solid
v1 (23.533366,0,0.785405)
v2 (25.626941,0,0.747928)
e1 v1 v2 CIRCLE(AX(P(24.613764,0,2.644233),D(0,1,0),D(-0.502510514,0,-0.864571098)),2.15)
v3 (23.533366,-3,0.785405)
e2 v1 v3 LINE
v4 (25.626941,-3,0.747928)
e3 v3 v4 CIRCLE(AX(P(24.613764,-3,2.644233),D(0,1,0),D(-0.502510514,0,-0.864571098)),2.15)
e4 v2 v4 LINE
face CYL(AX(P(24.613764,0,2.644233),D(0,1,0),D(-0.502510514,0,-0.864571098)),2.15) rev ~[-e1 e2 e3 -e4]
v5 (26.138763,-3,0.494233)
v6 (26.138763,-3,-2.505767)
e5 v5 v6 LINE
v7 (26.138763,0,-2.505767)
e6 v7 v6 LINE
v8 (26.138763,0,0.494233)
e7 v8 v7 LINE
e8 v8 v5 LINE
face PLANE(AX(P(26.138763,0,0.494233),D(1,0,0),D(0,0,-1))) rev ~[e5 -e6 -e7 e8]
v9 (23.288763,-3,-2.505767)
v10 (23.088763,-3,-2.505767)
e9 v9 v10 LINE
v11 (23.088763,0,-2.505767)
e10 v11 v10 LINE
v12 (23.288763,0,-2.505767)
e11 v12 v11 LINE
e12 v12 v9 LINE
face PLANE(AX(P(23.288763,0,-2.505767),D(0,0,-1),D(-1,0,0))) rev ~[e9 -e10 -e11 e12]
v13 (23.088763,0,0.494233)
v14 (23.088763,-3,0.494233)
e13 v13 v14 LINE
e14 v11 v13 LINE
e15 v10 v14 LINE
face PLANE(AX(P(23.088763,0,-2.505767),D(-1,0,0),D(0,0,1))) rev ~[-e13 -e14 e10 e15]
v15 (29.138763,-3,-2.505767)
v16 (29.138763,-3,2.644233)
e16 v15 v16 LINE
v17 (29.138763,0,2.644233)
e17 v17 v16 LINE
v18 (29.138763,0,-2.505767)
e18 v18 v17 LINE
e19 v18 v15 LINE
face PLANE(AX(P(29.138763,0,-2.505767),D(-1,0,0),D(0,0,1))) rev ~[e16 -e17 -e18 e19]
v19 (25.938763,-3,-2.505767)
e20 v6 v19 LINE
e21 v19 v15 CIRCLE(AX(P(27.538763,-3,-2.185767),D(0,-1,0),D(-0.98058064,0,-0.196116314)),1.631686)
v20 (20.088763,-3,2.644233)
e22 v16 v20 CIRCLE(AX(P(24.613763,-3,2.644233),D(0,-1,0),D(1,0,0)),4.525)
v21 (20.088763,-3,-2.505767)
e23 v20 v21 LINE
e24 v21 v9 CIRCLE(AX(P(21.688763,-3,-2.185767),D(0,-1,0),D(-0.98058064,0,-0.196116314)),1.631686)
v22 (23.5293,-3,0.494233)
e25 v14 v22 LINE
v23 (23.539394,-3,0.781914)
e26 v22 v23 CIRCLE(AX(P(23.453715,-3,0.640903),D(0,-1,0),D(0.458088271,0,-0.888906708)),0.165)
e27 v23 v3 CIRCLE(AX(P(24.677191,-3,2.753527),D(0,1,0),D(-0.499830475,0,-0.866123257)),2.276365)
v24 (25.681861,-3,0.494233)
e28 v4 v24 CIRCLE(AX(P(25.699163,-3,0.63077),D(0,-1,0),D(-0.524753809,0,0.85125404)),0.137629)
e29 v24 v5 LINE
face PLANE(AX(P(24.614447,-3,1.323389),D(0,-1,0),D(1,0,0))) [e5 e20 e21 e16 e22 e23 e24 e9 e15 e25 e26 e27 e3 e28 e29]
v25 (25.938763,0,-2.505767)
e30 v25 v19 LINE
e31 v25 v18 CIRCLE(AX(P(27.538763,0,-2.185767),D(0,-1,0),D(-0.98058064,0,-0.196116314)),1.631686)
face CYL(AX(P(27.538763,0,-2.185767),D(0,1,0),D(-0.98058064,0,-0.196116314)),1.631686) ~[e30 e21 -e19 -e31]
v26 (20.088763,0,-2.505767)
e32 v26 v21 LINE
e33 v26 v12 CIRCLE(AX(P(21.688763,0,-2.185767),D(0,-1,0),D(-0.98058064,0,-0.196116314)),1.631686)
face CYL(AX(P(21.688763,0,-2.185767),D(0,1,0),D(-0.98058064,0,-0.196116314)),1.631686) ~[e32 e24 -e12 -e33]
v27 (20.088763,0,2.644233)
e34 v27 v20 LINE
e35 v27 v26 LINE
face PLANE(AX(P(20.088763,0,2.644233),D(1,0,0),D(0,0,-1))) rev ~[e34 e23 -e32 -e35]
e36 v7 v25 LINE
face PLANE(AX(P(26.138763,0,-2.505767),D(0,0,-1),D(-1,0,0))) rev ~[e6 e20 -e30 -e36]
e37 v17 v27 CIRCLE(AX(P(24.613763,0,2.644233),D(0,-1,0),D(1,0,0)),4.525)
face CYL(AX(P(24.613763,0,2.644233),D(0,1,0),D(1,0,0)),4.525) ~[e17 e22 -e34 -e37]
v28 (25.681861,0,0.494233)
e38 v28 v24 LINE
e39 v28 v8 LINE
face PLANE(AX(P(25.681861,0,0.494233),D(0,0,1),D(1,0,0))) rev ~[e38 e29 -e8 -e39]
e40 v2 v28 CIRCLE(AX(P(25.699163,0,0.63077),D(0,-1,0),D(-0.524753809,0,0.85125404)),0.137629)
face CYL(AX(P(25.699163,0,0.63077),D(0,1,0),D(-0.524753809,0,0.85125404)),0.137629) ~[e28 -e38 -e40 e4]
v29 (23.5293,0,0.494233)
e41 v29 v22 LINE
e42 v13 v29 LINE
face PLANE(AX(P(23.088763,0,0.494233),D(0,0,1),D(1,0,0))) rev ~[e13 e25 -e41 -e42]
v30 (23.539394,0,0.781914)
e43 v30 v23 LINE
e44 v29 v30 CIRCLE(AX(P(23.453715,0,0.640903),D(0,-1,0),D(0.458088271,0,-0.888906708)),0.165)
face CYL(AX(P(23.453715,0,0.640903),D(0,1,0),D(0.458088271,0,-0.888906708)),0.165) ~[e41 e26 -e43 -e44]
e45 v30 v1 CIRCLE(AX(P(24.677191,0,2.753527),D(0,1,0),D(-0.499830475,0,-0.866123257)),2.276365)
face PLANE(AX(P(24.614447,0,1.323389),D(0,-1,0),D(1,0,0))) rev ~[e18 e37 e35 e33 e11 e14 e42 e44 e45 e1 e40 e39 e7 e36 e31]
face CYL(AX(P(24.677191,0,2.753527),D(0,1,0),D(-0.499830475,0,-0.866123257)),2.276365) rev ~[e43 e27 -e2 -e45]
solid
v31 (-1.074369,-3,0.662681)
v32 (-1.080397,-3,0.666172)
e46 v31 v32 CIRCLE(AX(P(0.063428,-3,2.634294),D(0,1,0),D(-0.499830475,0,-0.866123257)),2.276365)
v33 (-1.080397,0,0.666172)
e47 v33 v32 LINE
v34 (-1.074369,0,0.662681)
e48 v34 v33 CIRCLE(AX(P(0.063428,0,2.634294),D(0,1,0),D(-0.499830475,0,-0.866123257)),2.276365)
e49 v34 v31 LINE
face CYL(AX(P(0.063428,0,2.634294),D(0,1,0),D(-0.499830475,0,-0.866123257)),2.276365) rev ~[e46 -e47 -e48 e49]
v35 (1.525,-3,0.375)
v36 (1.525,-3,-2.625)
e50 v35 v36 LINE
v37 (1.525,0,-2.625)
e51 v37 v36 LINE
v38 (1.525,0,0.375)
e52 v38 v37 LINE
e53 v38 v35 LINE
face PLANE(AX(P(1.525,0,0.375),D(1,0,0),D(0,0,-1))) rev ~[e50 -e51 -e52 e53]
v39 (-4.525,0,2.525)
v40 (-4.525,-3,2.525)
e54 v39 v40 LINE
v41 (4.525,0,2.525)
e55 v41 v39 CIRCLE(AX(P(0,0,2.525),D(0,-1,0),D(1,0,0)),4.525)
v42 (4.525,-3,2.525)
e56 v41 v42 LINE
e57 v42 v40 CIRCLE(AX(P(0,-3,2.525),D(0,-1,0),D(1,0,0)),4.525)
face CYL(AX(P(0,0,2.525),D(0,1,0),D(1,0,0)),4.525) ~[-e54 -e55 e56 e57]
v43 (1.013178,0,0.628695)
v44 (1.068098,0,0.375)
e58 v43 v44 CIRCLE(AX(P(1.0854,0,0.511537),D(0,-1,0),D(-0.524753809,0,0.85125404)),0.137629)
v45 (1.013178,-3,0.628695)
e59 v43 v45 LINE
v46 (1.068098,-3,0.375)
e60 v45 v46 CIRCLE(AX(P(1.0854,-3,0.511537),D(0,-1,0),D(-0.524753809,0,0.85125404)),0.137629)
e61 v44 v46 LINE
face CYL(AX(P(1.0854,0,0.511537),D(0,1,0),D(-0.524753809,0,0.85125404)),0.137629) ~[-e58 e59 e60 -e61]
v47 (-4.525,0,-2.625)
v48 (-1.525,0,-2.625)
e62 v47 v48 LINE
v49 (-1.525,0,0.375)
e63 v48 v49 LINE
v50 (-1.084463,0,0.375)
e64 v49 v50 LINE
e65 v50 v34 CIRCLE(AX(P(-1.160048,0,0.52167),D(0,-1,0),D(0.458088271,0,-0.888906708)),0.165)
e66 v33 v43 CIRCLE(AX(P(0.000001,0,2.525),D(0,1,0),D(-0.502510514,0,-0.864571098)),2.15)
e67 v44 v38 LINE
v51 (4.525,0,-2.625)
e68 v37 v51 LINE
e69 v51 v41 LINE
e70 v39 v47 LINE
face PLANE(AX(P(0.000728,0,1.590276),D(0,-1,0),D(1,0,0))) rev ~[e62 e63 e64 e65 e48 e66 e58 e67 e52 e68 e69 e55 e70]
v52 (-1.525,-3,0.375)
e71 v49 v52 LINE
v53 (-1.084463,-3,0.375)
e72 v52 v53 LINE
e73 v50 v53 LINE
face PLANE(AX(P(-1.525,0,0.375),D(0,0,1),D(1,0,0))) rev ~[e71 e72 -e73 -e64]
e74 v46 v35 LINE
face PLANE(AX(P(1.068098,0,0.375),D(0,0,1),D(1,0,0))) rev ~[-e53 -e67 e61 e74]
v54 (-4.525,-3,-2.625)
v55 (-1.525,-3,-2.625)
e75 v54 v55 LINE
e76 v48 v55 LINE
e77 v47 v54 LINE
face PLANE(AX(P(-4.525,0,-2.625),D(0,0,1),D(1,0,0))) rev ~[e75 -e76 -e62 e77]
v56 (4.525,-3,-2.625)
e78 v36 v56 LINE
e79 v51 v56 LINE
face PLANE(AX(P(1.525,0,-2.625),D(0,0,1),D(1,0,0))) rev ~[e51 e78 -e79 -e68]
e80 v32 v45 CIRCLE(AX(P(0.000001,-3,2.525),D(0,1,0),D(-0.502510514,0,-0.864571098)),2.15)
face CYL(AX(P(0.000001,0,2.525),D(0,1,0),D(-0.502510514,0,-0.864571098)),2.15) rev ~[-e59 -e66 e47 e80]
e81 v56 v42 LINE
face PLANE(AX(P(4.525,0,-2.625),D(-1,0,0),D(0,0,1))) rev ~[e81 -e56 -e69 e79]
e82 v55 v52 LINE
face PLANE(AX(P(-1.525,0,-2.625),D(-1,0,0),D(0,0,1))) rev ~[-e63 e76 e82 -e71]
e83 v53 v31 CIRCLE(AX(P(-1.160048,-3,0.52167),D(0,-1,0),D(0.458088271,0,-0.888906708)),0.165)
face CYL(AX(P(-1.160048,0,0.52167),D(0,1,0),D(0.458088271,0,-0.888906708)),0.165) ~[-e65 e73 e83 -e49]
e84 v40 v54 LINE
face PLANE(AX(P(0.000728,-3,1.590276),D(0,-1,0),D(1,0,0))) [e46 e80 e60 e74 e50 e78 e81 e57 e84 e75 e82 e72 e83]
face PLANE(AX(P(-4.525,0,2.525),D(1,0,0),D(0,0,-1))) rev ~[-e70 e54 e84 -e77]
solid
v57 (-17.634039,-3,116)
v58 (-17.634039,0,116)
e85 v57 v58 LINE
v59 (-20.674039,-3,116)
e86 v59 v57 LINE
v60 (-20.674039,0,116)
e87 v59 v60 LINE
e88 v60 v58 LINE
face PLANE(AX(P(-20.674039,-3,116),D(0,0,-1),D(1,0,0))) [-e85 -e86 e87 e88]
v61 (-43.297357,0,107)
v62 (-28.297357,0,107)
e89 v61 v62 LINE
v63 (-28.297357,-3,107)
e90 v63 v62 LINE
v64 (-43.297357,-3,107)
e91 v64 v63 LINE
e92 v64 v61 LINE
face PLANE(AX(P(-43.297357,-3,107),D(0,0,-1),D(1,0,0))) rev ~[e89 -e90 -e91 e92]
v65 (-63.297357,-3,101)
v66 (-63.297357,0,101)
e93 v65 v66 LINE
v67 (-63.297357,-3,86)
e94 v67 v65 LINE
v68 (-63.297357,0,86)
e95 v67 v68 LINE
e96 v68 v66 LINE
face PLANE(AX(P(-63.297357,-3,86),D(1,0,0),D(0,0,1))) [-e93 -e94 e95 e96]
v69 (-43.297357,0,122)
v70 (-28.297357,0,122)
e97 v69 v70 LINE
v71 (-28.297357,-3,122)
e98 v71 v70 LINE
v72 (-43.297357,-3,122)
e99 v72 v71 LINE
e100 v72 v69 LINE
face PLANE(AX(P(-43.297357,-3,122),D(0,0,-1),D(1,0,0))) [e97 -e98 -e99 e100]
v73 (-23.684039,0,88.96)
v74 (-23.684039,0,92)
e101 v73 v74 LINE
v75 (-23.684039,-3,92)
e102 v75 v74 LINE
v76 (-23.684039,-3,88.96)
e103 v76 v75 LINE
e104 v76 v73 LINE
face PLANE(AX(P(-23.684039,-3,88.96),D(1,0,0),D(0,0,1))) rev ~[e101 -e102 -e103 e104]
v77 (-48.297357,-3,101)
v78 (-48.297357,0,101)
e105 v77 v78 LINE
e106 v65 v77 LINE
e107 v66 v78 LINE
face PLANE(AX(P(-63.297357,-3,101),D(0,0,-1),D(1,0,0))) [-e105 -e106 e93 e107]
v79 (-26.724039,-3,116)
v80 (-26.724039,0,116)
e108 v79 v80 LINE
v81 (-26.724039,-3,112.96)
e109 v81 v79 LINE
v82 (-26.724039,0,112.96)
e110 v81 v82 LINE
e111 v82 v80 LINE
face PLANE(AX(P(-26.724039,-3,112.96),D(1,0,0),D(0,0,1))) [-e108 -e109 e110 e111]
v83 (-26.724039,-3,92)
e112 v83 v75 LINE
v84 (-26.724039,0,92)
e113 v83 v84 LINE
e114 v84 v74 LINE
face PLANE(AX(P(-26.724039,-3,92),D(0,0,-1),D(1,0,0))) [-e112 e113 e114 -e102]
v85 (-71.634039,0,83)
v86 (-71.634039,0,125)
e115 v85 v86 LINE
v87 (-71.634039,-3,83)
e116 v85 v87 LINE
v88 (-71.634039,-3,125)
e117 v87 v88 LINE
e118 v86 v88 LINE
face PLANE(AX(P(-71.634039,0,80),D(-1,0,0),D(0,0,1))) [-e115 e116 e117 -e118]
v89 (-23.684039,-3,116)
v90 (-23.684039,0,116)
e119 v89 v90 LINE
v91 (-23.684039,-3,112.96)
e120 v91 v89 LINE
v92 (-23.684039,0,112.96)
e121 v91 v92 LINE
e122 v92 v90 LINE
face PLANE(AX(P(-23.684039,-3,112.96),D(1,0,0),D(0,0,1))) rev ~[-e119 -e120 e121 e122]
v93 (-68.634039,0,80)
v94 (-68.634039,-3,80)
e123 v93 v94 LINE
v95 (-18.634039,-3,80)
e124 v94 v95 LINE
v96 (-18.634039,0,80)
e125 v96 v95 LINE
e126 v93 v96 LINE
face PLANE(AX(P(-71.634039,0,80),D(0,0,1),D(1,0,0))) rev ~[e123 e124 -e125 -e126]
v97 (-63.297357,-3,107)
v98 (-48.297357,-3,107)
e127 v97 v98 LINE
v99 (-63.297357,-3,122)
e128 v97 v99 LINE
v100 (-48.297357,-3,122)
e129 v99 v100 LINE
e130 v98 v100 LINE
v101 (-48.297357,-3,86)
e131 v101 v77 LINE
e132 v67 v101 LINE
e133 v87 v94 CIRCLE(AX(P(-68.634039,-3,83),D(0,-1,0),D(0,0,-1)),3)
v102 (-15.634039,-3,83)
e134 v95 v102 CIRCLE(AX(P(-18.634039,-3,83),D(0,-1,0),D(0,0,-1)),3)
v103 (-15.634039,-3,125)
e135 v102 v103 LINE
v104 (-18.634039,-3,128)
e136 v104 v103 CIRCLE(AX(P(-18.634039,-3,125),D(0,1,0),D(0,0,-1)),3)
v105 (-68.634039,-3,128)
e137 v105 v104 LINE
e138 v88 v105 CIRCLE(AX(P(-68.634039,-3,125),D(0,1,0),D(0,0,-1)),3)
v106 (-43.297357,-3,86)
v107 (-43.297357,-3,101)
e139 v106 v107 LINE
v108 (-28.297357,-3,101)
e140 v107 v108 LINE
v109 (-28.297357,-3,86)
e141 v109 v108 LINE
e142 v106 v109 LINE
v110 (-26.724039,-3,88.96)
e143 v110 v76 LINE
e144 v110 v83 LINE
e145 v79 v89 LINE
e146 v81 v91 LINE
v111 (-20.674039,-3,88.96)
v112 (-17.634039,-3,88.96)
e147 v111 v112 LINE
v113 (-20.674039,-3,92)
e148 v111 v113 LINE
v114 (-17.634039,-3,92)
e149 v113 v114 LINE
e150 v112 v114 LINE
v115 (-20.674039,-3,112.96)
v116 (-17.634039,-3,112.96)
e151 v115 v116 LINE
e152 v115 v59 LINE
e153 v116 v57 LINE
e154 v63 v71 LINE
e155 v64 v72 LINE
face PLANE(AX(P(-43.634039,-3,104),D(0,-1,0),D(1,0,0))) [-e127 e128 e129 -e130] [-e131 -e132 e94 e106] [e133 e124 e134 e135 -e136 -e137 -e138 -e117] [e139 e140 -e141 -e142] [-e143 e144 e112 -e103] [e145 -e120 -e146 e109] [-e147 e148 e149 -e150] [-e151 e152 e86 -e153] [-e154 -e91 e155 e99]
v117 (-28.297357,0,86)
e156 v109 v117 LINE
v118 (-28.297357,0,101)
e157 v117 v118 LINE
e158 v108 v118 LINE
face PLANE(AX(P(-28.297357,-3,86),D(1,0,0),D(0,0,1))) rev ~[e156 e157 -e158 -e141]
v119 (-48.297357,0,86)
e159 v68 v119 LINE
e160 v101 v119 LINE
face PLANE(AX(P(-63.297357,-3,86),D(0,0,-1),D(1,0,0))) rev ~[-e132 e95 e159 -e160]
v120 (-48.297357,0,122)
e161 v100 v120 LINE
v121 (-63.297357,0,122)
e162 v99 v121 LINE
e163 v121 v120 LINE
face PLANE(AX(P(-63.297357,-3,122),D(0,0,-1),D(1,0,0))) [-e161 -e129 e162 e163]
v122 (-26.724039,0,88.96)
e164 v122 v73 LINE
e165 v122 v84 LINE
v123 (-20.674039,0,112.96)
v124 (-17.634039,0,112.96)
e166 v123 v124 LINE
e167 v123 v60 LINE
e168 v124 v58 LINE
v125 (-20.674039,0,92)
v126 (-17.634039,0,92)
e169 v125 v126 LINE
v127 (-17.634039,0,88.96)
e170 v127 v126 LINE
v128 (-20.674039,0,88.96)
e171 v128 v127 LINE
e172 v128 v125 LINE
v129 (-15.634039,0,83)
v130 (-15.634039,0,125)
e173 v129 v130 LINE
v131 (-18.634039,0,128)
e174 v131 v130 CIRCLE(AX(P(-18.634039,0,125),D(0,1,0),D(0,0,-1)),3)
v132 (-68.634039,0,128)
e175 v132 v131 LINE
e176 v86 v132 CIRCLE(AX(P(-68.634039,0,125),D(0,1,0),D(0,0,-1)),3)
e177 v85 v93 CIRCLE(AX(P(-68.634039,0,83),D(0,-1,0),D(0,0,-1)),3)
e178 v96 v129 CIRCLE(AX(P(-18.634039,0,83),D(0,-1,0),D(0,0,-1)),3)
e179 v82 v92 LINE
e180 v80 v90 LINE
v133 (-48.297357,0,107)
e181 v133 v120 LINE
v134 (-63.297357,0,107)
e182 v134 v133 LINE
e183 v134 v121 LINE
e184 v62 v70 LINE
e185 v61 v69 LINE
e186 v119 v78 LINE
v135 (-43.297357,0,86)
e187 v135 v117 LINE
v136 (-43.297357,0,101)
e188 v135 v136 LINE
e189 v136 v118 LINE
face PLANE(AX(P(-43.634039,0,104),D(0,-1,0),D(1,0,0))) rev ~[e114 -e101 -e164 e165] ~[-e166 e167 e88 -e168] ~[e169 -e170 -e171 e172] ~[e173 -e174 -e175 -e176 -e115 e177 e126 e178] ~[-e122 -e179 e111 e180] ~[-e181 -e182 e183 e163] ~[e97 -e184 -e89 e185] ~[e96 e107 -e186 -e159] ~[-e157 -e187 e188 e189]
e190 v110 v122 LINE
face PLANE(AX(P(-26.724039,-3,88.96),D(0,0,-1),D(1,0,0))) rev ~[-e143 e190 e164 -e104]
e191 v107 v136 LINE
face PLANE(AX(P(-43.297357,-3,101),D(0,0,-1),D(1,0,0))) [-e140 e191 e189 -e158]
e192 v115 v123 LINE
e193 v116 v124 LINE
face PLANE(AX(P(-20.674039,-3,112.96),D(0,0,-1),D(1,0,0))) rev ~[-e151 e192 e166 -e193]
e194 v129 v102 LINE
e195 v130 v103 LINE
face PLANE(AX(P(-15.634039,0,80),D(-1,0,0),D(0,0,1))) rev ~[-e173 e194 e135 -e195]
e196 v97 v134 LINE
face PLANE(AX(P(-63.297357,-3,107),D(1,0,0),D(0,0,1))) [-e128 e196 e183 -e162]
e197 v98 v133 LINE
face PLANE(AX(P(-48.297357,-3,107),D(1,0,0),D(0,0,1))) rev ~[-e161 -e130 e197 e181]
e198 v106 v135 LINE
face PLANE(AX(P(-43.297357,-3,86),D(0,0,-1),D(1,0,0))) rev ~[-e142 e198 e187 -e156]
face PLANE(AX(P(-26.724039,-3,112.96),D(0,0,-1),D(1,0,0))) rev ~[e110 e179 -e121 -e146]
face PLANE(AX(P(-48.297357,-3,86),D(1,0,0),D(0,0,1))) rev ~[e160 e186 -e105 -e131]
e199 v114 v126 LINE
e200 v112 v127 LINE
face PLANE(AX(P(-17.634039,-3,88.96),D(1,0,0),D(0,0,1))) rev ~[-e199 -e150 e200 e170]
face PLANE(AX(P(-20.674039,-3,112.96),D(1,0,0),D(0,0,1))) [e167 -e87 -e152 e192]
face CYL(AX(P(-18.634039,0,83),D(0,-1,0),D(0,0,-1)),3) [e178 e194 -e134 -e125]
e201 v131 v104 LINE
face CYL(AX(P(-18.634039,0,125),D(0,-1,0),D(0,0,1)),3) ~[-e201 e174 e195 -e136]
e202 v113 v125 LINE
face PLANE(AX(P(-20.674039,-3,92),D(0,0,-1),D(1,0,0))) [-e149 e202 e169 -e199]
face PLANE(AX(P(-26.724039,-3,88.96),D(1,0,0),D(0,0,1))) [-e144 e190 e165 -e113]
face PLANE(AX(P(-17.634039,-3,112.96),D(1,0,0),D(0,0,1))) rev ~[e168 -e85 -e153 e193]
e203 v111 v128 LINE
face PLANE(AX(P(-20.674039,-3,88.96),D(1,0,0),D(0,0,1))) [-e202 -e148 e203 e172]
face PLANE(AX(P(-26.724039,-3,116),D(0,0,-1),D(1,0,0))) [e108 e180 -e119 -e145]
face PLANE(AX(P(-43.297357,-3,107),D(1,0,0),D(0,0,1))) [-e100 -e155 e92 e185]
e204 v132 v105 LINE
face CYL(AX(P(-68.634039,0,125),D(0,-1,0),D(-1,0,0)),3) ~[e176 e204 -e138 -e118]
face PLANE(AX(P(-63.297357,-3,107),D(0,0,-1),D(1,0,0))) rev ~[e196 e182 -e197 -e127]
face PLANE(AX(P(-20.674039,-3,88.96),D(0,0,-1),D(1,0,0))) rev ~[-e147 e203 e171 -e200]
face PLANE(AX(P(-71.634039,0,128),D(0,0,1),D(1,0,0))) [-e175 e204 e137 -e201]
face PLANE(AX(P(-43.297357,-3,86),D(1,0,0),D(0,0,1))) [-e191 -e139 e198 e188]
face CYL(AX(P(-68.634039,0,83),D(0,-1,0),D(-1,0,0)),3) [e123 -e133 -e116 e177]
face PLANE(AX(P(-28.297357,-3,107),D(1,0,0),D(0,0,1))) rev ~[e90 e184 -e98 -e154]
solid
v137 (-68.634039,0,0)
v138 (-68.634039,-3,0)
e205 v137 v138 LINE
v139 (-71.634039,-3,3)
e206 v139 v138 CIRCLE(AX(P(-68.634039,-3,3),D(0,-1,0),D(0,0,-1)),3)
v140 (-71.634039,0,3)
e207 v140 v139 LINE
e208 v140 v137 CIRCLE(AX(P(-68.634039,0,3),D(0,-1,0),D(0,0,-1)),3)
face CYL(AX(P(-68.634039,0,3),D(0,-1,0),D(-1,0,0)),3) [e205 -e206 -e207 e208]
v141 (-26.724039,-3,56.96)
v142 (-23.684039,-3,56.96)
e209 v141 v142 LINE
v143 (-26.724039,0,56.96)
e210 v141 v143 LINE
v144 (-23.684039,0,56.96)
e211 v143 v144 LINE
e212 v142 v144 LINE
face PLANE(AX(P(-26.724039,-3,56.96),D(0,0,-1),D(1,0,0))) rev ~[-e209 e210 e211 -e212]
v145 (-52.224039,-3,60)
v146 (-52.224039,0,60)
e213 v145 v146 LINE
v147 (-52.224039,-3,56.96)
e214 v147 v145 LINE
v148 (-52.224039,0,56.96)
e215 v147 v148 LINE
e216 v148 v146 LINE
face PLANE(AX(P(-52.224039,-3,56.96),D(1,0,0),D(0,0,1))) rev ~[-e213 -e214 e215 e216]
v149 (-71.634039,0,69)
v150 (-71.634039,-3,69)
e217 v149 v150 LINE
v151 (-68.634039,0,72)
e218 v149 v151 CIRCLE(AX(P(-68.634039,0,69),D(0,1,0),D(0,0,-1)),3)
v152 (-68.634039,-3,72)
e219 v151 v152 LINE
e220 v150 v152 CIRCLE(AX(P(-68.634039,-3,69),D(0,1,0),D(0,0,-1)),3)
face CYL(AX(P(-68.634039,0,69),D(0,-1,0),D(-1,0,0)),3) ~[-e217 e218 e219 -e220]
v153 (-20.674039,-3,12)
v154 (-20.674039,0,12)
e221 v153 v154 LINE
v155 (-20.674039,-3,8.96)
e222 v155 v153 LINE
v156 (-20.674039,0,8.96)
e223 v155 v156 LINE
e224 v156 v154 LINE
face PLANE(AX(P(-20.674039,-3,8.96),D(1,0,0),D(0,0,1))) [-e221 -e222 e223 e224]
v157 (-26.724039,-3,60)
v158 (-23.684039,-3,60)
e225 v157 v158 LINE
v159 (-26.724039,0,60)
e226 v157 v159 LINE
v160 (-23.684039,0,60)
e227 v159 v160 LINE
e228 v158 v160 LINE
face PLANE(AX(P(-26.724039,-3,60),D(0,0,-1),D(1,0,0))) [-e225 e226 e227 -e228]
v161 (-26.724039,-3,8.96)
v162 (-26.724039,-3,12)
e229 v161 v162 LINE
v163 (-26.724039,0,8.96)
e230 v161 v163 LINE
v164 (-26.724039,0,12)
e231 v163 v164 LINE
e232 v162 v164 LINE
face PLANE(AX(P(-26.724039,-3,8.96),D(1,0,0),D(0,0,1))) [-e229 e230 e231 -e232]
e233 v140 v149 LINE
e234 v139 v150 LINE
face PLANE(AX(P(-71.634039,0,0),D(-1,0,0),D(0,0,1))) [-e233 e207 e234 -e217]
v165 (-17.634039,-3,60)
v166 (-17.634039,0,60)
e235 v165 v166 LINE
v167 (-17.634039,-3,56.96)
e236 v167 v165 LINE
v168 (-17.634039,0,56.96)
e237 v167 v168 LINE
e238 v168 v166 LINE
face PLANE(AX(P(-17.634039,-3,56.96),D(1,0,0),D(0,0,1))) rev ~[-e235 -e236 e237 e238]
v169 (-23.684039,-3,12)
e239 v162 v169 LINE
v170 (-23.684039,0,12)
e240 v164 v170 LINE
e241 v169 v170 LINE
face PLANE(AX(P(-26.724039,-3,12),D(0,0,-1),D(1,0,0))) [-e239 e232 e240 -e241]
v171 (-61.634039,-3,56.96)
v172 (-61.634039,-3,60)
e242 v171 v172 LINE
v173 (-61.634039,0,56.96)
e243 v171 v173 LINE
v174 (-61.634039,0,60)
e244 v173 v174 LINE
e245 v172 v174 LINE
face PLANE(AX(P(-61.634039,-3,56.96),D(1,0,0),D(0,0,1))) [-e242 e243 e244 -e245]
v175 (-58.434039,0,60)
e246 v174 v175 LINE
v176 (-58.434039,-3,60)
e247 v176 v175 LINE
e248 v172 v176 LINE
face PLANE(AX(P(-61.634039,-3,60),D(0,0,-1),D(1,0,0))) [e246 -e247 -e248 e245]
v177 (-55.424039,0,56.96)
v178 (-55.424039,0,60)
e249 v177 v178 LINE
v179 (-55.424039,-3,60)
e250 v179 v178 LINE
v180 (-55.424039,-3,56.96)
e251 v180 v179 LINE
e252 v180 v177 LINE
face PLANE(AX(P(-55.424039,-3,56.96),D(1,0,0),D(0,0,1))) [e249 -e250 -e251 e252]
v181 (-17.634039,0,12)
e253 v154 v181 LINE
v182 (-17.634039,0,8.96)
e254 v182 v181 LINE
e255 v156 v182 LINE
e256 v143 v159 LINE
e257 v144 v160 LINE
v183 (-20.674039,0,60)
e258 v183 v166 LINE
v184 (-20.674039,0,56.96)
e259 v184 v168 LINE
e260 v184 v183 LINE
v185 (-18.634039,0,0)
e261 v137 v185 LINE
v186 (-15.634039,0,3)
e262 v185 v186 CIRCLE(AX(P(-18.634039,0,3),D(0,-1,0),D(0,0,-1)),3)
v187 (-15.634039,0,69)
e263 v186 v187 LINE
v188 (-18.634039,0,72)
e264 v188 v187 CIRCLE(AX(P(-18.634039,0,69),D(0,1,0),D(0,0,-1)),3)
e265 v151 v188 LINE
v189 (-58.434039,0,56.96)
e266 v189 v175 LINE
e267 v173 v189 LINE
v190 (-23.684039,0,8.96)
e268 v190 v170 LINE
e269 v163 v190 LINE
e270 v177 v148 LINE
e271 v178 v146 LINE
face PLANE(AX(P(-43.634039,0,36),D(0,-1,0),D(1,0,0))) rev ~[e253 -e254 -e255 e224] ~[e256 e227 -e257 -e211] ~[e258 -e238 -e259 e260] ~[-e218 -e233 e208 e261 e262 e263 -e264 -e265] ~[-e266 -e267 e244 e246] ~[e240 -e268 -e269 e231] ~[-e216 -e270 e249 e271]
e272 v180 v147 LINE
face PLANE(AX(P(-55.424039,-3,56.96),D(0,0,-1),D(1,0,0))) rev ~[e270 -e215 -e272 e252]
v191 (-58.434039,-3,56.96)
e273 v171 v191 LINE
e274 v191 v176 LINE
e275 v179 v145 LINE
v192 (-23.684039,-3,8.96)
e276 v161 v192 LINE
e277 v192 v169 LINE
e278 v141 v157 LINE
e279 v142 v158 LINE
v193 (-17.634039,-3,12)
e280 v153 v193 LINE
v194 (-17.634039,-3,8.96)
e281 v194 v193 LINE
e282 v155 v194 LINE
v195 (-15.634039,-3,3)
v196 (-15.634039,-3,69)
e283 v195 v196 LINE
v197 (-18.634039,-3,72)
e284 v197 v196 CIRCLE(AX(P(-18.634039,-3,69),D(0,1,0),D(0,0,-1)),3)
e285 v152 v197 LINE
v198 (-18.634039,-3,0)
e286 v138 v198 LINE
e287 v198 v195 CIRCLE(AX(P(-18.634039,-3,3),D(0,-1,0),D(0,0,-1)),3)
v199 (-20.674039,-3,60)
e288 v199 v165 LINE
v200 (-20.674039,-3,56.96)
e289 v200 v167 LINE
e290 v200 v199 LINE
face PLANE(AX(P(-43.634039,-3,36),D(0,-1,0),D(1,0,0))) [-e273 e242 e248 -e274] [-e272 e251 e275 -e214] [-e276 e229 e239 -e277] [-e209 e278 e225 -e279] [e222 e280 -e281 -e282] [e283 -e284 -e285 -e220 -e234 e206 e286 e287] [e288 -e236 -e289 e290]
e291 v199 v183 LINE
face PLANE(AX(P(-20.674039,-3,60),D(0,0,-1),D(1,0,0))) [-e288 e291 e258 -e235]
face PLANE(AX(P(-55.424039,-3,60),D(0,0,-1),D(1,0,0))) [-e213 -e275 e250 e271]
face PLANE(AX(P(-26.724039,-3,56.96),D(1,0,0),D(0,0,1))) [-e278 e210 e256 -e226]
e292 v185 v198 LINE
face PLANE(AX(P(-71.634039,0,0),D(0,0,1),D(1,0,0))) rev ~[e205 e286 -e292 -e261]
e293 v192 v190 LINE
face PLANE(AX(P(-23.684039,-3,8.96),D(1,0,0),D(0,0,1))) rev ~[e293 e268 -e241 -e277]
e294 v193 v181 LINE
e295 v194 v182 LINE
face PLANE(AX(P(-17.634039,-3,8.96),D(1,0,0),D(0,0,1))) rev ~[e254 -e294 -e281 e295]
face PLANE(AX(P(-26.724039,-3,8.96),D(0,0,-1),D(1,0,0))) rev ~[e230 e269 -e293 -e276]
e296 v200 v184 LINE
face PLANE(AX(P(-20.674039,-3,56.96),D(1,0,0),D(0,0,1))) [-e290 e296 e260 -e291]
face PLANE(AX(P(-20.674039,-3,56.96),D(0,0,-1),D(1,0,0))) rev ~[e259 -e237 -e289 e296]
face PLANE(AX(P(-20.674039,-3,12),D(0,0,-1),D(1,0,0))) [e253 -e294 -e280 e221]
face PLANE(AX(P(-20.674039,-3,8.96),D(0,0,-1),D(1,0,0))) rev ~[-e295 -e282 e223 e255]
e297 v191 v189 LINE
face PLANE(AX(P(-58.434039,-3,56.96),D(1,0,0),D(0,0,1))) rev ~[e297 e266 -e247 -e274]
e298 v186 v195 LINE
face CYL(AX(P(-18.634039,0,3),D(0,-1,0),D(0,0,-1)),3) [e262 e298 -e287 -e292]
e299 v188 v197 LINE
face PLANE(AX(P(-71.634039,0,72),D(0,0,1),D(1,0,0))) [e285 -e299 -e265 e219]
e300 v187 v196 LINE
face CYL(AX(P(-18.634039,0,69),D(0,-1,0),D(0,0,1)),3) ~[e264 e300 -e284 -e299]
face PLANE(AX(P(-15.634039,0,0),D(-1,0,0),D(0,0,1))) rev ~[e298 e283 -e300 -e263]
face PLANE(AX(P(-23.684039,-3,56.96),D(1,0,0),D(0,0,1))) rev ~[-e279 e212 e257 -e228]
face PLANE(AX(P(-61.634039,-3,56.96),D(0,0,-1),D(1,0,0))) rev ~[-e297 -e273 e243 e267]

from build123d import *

# Parameters (mm, degrees)
F1_DEPTH = 3
F2_W     = 56
F2_H     = 48
F2_H_2   = 72
F3_DEPTH = 3
F4_W     = 3.04
F4_H     = 3.04
F5_DEPTH = 3.001
F4_W_2   = 3.2
F6_DEPTH = 25
F7_W     = 15
F7_H     = 15
F8_DEPTH = 3.001
F9_R     = 3


with BuildPart() as f1:
    # F0 (on Front) → F1 (new body)
    with BuildSketch(Plane.XZ):
        with BuildLine():
            ThreePointArc((-1.080397, 0.666172), (0.03848, 4.674656), (1.013178, 0.628695))
            ThreePointArc((1.013178, 0.628695), (0.950886, 0.482418), (1.068098, 0.375))
            Line((1.068098, 0.375), (1.1027, 0.375))
            Line((1.1027, 0.375), (1.525, 0.375))
            Line((1.525, 0.375), (1.525, -2.625))
            Line((1.525, -2.625), (4.525, -2.625))
            Line((4.525, -2.625), (4.525, 2.525))
            ThreePointArc((4.525, 2.525), (0, 7.05), (-4.525, 2.525))
            Line((-4.525, 2.525), (-4.525, -2.625))
            Line((-4.525, -2.625), (-1.525, -2.625))
            Line((-1.525, -2.625), (-1.525, 0.375))
            Line((-1.525, 0.375), (-1.084463, 0.375))
            ThreePointArc((-1.084463, 0.375), (-0.995149, 0.515884), (-1.074369, 0.662681))
            ThreePointArc((-1.074369, 0.662681), (-1.077384, 0.664424), (-1.080397, 0.666172))
        make_face()
        with BuildLine():
            ThreePointArc((23.533366, 0.785405), (24.652243, 4.793889), (25.626941, 0.747928))
            ThreePointArc((25.626941, 0.747928), (25.564649, 0.601651), (25.681861, 0.494233))
            Line((25.681861, 0.494233), (25.716464, 0.494233))
            Line((25.716464, 0.494233), (26.138763, 0.494233))
            Line((26.138763, 0.494233), (26.138763, -2.505767))
            Line((26.138763, -2.505767), (25.938763, -2.505767))
            ThreePointArc((25.938763, -2.505767), (27.538763, -3.817453), (29.138763, -2.505767))
            Line((29.138763, -2.505767), (29.138763, 2.644233))
            ThreePointArc((29.138763, 2.644233), (24.613763, 7.169233), (20.088763, 2.644233))
            Line((20.088763, 2.644233), (20.088763, -2.505767))
            ThreePointArc((20.088763, -2.505767), (21.688763, -3.817453), (23.288763, -2.505767))
            Line((23.288763, -2.505767), (23.088763, -2.505767))
            Line((23.088763, -2.505767), (23.088763, 0.494233))
            Line((23.088763, 0.494233), (23.5293, 0.494233))
            ThreePointArc((23.5293, 0.494233), (23.618614, 0.635117), (23.539394, 0.781914))
            ThreePointArc((23.539394, 0.781914), (23.536379, 0.783657), (23.533366, 0.785405))
        make_face()
    extrude(amount=F1_DEPTH)


with BuildPart() as f3:
    # F2 (on Front) → F3 (new body)
    with BuildSketch(Plane.XZ):
        with Locations((-43.634039, 104)):
            Rectangle(F2_W, F2_H)
        with Locations((-43.634039, 36)):
            Rectangle(F2_W, F2_H_2)
    extrude(amount=F3_DEPTH)

    # F4 (on face) → F5 (cut, through all)
    with BuildSketch(Plane.XZ.offset(3)):
        with Locations((-25.204039, 114.48)):
            Rectangle(F4_W, F4_H)
        with Locations((-19.154039, 114.48)):
            Rectangle(F4_W, F4_H)
        with Locations((-25.204039, 90.48)):
            Rectangle(F4_W, F4_H)
        with Locations((-19.154039, 90.48)):
            Rectangle(F4_W, F4_H)
        with Locations((-25.204039, 58.48)):
            Rectangle(F4_W, F4_H)
        with Locations((-19.154039, 58.48)):
            Rectangle(F4_W, F4_H)
        with Locations((-25.204039, 10.48)):
            Rectangle(F4_W, F4_H)
        with Locations((-19.154039, 10.48)):
            Rectangle(F4_W, F4_H)
    extrude(amount=-F5_DEPTH, mode=Mode.SUBTRACT)

    # F4 (on face) → F6 (cut)
    with BuildSketch(Plane.XZ.offset(3)):
        with Locations((-25.204039, 10.48)):
            Rectangle(F4_W, F4_H)
        with Locations((-19.154039, 10.48)):
            Rectangle(F4_W, F4_H)
        with Locations((-25.204039, 58.48)):
            Rectangle(F4_W, F4_H)
        with Locations((-19.154039, 58.48)):
            Rectangle(F4_W, F4_H)
        with Locations((-25.204039, 90.48)):
            Rectangle(F4_W, F4_H)
        with Locations((-19.154039, 90.48)):
            Rectangle(F4_W, F4_H)
        with Locations((-25.204039, 114.48)):
            Rectangle(F4_W, F4_H)
        with Locations((-19.154039, 114.48)):
            Rectangle(F4_W, F4_H)
        with Locations((-60.034039, 58.48)):
            Rectangle(F4_W_2, F4_H)
        with Locations((-53.824039, 58.48)):
            Rectangle(F4_W_2, F4_H)
    extrude(amount=-F6_DEPTH, mode=Mode.SUBTRACT)

    # F7 (on face) → F8 (cut, through all)
    with BuildSketch(Plane.XZ.offset(3)):
        with Locations((-55.797357, 114.5)):
            Rectangle(F7_W, F7_H)
        with Locations((-35.797357, 114.5)):
            Rectangle(F7_W, F7_H)
        with Locations((-35.797357, 93.5)):
            Rectangle(F7_W, F7_H)
        with Locations((-55.797357, 93.5)):
            Rectangle(F7_W, F7_H)
    extrude(amount=-F8_DEPTH, mode=Mode.SUBTRACT)

    # F9
    f9_edges = [f3.edges().sort_by_distance(p)[0] for p in [
        (-71.634039, -1.5, 128),
        (-71.634039, -1.5, 72),
        (-15.634039, -1.5, 72),
        (-71.634039, -1.5, 80),
        (-15.634039, -1.5, 80),
        (-15.634039, -1.5, 128),
        (-71.634039, -1.5, 0),
        (-15.634039, -1.5, 0),
    ]]
    fillet(f9_edges, radius=F9_R)


solid = Compound([f1.part, f3.part])
